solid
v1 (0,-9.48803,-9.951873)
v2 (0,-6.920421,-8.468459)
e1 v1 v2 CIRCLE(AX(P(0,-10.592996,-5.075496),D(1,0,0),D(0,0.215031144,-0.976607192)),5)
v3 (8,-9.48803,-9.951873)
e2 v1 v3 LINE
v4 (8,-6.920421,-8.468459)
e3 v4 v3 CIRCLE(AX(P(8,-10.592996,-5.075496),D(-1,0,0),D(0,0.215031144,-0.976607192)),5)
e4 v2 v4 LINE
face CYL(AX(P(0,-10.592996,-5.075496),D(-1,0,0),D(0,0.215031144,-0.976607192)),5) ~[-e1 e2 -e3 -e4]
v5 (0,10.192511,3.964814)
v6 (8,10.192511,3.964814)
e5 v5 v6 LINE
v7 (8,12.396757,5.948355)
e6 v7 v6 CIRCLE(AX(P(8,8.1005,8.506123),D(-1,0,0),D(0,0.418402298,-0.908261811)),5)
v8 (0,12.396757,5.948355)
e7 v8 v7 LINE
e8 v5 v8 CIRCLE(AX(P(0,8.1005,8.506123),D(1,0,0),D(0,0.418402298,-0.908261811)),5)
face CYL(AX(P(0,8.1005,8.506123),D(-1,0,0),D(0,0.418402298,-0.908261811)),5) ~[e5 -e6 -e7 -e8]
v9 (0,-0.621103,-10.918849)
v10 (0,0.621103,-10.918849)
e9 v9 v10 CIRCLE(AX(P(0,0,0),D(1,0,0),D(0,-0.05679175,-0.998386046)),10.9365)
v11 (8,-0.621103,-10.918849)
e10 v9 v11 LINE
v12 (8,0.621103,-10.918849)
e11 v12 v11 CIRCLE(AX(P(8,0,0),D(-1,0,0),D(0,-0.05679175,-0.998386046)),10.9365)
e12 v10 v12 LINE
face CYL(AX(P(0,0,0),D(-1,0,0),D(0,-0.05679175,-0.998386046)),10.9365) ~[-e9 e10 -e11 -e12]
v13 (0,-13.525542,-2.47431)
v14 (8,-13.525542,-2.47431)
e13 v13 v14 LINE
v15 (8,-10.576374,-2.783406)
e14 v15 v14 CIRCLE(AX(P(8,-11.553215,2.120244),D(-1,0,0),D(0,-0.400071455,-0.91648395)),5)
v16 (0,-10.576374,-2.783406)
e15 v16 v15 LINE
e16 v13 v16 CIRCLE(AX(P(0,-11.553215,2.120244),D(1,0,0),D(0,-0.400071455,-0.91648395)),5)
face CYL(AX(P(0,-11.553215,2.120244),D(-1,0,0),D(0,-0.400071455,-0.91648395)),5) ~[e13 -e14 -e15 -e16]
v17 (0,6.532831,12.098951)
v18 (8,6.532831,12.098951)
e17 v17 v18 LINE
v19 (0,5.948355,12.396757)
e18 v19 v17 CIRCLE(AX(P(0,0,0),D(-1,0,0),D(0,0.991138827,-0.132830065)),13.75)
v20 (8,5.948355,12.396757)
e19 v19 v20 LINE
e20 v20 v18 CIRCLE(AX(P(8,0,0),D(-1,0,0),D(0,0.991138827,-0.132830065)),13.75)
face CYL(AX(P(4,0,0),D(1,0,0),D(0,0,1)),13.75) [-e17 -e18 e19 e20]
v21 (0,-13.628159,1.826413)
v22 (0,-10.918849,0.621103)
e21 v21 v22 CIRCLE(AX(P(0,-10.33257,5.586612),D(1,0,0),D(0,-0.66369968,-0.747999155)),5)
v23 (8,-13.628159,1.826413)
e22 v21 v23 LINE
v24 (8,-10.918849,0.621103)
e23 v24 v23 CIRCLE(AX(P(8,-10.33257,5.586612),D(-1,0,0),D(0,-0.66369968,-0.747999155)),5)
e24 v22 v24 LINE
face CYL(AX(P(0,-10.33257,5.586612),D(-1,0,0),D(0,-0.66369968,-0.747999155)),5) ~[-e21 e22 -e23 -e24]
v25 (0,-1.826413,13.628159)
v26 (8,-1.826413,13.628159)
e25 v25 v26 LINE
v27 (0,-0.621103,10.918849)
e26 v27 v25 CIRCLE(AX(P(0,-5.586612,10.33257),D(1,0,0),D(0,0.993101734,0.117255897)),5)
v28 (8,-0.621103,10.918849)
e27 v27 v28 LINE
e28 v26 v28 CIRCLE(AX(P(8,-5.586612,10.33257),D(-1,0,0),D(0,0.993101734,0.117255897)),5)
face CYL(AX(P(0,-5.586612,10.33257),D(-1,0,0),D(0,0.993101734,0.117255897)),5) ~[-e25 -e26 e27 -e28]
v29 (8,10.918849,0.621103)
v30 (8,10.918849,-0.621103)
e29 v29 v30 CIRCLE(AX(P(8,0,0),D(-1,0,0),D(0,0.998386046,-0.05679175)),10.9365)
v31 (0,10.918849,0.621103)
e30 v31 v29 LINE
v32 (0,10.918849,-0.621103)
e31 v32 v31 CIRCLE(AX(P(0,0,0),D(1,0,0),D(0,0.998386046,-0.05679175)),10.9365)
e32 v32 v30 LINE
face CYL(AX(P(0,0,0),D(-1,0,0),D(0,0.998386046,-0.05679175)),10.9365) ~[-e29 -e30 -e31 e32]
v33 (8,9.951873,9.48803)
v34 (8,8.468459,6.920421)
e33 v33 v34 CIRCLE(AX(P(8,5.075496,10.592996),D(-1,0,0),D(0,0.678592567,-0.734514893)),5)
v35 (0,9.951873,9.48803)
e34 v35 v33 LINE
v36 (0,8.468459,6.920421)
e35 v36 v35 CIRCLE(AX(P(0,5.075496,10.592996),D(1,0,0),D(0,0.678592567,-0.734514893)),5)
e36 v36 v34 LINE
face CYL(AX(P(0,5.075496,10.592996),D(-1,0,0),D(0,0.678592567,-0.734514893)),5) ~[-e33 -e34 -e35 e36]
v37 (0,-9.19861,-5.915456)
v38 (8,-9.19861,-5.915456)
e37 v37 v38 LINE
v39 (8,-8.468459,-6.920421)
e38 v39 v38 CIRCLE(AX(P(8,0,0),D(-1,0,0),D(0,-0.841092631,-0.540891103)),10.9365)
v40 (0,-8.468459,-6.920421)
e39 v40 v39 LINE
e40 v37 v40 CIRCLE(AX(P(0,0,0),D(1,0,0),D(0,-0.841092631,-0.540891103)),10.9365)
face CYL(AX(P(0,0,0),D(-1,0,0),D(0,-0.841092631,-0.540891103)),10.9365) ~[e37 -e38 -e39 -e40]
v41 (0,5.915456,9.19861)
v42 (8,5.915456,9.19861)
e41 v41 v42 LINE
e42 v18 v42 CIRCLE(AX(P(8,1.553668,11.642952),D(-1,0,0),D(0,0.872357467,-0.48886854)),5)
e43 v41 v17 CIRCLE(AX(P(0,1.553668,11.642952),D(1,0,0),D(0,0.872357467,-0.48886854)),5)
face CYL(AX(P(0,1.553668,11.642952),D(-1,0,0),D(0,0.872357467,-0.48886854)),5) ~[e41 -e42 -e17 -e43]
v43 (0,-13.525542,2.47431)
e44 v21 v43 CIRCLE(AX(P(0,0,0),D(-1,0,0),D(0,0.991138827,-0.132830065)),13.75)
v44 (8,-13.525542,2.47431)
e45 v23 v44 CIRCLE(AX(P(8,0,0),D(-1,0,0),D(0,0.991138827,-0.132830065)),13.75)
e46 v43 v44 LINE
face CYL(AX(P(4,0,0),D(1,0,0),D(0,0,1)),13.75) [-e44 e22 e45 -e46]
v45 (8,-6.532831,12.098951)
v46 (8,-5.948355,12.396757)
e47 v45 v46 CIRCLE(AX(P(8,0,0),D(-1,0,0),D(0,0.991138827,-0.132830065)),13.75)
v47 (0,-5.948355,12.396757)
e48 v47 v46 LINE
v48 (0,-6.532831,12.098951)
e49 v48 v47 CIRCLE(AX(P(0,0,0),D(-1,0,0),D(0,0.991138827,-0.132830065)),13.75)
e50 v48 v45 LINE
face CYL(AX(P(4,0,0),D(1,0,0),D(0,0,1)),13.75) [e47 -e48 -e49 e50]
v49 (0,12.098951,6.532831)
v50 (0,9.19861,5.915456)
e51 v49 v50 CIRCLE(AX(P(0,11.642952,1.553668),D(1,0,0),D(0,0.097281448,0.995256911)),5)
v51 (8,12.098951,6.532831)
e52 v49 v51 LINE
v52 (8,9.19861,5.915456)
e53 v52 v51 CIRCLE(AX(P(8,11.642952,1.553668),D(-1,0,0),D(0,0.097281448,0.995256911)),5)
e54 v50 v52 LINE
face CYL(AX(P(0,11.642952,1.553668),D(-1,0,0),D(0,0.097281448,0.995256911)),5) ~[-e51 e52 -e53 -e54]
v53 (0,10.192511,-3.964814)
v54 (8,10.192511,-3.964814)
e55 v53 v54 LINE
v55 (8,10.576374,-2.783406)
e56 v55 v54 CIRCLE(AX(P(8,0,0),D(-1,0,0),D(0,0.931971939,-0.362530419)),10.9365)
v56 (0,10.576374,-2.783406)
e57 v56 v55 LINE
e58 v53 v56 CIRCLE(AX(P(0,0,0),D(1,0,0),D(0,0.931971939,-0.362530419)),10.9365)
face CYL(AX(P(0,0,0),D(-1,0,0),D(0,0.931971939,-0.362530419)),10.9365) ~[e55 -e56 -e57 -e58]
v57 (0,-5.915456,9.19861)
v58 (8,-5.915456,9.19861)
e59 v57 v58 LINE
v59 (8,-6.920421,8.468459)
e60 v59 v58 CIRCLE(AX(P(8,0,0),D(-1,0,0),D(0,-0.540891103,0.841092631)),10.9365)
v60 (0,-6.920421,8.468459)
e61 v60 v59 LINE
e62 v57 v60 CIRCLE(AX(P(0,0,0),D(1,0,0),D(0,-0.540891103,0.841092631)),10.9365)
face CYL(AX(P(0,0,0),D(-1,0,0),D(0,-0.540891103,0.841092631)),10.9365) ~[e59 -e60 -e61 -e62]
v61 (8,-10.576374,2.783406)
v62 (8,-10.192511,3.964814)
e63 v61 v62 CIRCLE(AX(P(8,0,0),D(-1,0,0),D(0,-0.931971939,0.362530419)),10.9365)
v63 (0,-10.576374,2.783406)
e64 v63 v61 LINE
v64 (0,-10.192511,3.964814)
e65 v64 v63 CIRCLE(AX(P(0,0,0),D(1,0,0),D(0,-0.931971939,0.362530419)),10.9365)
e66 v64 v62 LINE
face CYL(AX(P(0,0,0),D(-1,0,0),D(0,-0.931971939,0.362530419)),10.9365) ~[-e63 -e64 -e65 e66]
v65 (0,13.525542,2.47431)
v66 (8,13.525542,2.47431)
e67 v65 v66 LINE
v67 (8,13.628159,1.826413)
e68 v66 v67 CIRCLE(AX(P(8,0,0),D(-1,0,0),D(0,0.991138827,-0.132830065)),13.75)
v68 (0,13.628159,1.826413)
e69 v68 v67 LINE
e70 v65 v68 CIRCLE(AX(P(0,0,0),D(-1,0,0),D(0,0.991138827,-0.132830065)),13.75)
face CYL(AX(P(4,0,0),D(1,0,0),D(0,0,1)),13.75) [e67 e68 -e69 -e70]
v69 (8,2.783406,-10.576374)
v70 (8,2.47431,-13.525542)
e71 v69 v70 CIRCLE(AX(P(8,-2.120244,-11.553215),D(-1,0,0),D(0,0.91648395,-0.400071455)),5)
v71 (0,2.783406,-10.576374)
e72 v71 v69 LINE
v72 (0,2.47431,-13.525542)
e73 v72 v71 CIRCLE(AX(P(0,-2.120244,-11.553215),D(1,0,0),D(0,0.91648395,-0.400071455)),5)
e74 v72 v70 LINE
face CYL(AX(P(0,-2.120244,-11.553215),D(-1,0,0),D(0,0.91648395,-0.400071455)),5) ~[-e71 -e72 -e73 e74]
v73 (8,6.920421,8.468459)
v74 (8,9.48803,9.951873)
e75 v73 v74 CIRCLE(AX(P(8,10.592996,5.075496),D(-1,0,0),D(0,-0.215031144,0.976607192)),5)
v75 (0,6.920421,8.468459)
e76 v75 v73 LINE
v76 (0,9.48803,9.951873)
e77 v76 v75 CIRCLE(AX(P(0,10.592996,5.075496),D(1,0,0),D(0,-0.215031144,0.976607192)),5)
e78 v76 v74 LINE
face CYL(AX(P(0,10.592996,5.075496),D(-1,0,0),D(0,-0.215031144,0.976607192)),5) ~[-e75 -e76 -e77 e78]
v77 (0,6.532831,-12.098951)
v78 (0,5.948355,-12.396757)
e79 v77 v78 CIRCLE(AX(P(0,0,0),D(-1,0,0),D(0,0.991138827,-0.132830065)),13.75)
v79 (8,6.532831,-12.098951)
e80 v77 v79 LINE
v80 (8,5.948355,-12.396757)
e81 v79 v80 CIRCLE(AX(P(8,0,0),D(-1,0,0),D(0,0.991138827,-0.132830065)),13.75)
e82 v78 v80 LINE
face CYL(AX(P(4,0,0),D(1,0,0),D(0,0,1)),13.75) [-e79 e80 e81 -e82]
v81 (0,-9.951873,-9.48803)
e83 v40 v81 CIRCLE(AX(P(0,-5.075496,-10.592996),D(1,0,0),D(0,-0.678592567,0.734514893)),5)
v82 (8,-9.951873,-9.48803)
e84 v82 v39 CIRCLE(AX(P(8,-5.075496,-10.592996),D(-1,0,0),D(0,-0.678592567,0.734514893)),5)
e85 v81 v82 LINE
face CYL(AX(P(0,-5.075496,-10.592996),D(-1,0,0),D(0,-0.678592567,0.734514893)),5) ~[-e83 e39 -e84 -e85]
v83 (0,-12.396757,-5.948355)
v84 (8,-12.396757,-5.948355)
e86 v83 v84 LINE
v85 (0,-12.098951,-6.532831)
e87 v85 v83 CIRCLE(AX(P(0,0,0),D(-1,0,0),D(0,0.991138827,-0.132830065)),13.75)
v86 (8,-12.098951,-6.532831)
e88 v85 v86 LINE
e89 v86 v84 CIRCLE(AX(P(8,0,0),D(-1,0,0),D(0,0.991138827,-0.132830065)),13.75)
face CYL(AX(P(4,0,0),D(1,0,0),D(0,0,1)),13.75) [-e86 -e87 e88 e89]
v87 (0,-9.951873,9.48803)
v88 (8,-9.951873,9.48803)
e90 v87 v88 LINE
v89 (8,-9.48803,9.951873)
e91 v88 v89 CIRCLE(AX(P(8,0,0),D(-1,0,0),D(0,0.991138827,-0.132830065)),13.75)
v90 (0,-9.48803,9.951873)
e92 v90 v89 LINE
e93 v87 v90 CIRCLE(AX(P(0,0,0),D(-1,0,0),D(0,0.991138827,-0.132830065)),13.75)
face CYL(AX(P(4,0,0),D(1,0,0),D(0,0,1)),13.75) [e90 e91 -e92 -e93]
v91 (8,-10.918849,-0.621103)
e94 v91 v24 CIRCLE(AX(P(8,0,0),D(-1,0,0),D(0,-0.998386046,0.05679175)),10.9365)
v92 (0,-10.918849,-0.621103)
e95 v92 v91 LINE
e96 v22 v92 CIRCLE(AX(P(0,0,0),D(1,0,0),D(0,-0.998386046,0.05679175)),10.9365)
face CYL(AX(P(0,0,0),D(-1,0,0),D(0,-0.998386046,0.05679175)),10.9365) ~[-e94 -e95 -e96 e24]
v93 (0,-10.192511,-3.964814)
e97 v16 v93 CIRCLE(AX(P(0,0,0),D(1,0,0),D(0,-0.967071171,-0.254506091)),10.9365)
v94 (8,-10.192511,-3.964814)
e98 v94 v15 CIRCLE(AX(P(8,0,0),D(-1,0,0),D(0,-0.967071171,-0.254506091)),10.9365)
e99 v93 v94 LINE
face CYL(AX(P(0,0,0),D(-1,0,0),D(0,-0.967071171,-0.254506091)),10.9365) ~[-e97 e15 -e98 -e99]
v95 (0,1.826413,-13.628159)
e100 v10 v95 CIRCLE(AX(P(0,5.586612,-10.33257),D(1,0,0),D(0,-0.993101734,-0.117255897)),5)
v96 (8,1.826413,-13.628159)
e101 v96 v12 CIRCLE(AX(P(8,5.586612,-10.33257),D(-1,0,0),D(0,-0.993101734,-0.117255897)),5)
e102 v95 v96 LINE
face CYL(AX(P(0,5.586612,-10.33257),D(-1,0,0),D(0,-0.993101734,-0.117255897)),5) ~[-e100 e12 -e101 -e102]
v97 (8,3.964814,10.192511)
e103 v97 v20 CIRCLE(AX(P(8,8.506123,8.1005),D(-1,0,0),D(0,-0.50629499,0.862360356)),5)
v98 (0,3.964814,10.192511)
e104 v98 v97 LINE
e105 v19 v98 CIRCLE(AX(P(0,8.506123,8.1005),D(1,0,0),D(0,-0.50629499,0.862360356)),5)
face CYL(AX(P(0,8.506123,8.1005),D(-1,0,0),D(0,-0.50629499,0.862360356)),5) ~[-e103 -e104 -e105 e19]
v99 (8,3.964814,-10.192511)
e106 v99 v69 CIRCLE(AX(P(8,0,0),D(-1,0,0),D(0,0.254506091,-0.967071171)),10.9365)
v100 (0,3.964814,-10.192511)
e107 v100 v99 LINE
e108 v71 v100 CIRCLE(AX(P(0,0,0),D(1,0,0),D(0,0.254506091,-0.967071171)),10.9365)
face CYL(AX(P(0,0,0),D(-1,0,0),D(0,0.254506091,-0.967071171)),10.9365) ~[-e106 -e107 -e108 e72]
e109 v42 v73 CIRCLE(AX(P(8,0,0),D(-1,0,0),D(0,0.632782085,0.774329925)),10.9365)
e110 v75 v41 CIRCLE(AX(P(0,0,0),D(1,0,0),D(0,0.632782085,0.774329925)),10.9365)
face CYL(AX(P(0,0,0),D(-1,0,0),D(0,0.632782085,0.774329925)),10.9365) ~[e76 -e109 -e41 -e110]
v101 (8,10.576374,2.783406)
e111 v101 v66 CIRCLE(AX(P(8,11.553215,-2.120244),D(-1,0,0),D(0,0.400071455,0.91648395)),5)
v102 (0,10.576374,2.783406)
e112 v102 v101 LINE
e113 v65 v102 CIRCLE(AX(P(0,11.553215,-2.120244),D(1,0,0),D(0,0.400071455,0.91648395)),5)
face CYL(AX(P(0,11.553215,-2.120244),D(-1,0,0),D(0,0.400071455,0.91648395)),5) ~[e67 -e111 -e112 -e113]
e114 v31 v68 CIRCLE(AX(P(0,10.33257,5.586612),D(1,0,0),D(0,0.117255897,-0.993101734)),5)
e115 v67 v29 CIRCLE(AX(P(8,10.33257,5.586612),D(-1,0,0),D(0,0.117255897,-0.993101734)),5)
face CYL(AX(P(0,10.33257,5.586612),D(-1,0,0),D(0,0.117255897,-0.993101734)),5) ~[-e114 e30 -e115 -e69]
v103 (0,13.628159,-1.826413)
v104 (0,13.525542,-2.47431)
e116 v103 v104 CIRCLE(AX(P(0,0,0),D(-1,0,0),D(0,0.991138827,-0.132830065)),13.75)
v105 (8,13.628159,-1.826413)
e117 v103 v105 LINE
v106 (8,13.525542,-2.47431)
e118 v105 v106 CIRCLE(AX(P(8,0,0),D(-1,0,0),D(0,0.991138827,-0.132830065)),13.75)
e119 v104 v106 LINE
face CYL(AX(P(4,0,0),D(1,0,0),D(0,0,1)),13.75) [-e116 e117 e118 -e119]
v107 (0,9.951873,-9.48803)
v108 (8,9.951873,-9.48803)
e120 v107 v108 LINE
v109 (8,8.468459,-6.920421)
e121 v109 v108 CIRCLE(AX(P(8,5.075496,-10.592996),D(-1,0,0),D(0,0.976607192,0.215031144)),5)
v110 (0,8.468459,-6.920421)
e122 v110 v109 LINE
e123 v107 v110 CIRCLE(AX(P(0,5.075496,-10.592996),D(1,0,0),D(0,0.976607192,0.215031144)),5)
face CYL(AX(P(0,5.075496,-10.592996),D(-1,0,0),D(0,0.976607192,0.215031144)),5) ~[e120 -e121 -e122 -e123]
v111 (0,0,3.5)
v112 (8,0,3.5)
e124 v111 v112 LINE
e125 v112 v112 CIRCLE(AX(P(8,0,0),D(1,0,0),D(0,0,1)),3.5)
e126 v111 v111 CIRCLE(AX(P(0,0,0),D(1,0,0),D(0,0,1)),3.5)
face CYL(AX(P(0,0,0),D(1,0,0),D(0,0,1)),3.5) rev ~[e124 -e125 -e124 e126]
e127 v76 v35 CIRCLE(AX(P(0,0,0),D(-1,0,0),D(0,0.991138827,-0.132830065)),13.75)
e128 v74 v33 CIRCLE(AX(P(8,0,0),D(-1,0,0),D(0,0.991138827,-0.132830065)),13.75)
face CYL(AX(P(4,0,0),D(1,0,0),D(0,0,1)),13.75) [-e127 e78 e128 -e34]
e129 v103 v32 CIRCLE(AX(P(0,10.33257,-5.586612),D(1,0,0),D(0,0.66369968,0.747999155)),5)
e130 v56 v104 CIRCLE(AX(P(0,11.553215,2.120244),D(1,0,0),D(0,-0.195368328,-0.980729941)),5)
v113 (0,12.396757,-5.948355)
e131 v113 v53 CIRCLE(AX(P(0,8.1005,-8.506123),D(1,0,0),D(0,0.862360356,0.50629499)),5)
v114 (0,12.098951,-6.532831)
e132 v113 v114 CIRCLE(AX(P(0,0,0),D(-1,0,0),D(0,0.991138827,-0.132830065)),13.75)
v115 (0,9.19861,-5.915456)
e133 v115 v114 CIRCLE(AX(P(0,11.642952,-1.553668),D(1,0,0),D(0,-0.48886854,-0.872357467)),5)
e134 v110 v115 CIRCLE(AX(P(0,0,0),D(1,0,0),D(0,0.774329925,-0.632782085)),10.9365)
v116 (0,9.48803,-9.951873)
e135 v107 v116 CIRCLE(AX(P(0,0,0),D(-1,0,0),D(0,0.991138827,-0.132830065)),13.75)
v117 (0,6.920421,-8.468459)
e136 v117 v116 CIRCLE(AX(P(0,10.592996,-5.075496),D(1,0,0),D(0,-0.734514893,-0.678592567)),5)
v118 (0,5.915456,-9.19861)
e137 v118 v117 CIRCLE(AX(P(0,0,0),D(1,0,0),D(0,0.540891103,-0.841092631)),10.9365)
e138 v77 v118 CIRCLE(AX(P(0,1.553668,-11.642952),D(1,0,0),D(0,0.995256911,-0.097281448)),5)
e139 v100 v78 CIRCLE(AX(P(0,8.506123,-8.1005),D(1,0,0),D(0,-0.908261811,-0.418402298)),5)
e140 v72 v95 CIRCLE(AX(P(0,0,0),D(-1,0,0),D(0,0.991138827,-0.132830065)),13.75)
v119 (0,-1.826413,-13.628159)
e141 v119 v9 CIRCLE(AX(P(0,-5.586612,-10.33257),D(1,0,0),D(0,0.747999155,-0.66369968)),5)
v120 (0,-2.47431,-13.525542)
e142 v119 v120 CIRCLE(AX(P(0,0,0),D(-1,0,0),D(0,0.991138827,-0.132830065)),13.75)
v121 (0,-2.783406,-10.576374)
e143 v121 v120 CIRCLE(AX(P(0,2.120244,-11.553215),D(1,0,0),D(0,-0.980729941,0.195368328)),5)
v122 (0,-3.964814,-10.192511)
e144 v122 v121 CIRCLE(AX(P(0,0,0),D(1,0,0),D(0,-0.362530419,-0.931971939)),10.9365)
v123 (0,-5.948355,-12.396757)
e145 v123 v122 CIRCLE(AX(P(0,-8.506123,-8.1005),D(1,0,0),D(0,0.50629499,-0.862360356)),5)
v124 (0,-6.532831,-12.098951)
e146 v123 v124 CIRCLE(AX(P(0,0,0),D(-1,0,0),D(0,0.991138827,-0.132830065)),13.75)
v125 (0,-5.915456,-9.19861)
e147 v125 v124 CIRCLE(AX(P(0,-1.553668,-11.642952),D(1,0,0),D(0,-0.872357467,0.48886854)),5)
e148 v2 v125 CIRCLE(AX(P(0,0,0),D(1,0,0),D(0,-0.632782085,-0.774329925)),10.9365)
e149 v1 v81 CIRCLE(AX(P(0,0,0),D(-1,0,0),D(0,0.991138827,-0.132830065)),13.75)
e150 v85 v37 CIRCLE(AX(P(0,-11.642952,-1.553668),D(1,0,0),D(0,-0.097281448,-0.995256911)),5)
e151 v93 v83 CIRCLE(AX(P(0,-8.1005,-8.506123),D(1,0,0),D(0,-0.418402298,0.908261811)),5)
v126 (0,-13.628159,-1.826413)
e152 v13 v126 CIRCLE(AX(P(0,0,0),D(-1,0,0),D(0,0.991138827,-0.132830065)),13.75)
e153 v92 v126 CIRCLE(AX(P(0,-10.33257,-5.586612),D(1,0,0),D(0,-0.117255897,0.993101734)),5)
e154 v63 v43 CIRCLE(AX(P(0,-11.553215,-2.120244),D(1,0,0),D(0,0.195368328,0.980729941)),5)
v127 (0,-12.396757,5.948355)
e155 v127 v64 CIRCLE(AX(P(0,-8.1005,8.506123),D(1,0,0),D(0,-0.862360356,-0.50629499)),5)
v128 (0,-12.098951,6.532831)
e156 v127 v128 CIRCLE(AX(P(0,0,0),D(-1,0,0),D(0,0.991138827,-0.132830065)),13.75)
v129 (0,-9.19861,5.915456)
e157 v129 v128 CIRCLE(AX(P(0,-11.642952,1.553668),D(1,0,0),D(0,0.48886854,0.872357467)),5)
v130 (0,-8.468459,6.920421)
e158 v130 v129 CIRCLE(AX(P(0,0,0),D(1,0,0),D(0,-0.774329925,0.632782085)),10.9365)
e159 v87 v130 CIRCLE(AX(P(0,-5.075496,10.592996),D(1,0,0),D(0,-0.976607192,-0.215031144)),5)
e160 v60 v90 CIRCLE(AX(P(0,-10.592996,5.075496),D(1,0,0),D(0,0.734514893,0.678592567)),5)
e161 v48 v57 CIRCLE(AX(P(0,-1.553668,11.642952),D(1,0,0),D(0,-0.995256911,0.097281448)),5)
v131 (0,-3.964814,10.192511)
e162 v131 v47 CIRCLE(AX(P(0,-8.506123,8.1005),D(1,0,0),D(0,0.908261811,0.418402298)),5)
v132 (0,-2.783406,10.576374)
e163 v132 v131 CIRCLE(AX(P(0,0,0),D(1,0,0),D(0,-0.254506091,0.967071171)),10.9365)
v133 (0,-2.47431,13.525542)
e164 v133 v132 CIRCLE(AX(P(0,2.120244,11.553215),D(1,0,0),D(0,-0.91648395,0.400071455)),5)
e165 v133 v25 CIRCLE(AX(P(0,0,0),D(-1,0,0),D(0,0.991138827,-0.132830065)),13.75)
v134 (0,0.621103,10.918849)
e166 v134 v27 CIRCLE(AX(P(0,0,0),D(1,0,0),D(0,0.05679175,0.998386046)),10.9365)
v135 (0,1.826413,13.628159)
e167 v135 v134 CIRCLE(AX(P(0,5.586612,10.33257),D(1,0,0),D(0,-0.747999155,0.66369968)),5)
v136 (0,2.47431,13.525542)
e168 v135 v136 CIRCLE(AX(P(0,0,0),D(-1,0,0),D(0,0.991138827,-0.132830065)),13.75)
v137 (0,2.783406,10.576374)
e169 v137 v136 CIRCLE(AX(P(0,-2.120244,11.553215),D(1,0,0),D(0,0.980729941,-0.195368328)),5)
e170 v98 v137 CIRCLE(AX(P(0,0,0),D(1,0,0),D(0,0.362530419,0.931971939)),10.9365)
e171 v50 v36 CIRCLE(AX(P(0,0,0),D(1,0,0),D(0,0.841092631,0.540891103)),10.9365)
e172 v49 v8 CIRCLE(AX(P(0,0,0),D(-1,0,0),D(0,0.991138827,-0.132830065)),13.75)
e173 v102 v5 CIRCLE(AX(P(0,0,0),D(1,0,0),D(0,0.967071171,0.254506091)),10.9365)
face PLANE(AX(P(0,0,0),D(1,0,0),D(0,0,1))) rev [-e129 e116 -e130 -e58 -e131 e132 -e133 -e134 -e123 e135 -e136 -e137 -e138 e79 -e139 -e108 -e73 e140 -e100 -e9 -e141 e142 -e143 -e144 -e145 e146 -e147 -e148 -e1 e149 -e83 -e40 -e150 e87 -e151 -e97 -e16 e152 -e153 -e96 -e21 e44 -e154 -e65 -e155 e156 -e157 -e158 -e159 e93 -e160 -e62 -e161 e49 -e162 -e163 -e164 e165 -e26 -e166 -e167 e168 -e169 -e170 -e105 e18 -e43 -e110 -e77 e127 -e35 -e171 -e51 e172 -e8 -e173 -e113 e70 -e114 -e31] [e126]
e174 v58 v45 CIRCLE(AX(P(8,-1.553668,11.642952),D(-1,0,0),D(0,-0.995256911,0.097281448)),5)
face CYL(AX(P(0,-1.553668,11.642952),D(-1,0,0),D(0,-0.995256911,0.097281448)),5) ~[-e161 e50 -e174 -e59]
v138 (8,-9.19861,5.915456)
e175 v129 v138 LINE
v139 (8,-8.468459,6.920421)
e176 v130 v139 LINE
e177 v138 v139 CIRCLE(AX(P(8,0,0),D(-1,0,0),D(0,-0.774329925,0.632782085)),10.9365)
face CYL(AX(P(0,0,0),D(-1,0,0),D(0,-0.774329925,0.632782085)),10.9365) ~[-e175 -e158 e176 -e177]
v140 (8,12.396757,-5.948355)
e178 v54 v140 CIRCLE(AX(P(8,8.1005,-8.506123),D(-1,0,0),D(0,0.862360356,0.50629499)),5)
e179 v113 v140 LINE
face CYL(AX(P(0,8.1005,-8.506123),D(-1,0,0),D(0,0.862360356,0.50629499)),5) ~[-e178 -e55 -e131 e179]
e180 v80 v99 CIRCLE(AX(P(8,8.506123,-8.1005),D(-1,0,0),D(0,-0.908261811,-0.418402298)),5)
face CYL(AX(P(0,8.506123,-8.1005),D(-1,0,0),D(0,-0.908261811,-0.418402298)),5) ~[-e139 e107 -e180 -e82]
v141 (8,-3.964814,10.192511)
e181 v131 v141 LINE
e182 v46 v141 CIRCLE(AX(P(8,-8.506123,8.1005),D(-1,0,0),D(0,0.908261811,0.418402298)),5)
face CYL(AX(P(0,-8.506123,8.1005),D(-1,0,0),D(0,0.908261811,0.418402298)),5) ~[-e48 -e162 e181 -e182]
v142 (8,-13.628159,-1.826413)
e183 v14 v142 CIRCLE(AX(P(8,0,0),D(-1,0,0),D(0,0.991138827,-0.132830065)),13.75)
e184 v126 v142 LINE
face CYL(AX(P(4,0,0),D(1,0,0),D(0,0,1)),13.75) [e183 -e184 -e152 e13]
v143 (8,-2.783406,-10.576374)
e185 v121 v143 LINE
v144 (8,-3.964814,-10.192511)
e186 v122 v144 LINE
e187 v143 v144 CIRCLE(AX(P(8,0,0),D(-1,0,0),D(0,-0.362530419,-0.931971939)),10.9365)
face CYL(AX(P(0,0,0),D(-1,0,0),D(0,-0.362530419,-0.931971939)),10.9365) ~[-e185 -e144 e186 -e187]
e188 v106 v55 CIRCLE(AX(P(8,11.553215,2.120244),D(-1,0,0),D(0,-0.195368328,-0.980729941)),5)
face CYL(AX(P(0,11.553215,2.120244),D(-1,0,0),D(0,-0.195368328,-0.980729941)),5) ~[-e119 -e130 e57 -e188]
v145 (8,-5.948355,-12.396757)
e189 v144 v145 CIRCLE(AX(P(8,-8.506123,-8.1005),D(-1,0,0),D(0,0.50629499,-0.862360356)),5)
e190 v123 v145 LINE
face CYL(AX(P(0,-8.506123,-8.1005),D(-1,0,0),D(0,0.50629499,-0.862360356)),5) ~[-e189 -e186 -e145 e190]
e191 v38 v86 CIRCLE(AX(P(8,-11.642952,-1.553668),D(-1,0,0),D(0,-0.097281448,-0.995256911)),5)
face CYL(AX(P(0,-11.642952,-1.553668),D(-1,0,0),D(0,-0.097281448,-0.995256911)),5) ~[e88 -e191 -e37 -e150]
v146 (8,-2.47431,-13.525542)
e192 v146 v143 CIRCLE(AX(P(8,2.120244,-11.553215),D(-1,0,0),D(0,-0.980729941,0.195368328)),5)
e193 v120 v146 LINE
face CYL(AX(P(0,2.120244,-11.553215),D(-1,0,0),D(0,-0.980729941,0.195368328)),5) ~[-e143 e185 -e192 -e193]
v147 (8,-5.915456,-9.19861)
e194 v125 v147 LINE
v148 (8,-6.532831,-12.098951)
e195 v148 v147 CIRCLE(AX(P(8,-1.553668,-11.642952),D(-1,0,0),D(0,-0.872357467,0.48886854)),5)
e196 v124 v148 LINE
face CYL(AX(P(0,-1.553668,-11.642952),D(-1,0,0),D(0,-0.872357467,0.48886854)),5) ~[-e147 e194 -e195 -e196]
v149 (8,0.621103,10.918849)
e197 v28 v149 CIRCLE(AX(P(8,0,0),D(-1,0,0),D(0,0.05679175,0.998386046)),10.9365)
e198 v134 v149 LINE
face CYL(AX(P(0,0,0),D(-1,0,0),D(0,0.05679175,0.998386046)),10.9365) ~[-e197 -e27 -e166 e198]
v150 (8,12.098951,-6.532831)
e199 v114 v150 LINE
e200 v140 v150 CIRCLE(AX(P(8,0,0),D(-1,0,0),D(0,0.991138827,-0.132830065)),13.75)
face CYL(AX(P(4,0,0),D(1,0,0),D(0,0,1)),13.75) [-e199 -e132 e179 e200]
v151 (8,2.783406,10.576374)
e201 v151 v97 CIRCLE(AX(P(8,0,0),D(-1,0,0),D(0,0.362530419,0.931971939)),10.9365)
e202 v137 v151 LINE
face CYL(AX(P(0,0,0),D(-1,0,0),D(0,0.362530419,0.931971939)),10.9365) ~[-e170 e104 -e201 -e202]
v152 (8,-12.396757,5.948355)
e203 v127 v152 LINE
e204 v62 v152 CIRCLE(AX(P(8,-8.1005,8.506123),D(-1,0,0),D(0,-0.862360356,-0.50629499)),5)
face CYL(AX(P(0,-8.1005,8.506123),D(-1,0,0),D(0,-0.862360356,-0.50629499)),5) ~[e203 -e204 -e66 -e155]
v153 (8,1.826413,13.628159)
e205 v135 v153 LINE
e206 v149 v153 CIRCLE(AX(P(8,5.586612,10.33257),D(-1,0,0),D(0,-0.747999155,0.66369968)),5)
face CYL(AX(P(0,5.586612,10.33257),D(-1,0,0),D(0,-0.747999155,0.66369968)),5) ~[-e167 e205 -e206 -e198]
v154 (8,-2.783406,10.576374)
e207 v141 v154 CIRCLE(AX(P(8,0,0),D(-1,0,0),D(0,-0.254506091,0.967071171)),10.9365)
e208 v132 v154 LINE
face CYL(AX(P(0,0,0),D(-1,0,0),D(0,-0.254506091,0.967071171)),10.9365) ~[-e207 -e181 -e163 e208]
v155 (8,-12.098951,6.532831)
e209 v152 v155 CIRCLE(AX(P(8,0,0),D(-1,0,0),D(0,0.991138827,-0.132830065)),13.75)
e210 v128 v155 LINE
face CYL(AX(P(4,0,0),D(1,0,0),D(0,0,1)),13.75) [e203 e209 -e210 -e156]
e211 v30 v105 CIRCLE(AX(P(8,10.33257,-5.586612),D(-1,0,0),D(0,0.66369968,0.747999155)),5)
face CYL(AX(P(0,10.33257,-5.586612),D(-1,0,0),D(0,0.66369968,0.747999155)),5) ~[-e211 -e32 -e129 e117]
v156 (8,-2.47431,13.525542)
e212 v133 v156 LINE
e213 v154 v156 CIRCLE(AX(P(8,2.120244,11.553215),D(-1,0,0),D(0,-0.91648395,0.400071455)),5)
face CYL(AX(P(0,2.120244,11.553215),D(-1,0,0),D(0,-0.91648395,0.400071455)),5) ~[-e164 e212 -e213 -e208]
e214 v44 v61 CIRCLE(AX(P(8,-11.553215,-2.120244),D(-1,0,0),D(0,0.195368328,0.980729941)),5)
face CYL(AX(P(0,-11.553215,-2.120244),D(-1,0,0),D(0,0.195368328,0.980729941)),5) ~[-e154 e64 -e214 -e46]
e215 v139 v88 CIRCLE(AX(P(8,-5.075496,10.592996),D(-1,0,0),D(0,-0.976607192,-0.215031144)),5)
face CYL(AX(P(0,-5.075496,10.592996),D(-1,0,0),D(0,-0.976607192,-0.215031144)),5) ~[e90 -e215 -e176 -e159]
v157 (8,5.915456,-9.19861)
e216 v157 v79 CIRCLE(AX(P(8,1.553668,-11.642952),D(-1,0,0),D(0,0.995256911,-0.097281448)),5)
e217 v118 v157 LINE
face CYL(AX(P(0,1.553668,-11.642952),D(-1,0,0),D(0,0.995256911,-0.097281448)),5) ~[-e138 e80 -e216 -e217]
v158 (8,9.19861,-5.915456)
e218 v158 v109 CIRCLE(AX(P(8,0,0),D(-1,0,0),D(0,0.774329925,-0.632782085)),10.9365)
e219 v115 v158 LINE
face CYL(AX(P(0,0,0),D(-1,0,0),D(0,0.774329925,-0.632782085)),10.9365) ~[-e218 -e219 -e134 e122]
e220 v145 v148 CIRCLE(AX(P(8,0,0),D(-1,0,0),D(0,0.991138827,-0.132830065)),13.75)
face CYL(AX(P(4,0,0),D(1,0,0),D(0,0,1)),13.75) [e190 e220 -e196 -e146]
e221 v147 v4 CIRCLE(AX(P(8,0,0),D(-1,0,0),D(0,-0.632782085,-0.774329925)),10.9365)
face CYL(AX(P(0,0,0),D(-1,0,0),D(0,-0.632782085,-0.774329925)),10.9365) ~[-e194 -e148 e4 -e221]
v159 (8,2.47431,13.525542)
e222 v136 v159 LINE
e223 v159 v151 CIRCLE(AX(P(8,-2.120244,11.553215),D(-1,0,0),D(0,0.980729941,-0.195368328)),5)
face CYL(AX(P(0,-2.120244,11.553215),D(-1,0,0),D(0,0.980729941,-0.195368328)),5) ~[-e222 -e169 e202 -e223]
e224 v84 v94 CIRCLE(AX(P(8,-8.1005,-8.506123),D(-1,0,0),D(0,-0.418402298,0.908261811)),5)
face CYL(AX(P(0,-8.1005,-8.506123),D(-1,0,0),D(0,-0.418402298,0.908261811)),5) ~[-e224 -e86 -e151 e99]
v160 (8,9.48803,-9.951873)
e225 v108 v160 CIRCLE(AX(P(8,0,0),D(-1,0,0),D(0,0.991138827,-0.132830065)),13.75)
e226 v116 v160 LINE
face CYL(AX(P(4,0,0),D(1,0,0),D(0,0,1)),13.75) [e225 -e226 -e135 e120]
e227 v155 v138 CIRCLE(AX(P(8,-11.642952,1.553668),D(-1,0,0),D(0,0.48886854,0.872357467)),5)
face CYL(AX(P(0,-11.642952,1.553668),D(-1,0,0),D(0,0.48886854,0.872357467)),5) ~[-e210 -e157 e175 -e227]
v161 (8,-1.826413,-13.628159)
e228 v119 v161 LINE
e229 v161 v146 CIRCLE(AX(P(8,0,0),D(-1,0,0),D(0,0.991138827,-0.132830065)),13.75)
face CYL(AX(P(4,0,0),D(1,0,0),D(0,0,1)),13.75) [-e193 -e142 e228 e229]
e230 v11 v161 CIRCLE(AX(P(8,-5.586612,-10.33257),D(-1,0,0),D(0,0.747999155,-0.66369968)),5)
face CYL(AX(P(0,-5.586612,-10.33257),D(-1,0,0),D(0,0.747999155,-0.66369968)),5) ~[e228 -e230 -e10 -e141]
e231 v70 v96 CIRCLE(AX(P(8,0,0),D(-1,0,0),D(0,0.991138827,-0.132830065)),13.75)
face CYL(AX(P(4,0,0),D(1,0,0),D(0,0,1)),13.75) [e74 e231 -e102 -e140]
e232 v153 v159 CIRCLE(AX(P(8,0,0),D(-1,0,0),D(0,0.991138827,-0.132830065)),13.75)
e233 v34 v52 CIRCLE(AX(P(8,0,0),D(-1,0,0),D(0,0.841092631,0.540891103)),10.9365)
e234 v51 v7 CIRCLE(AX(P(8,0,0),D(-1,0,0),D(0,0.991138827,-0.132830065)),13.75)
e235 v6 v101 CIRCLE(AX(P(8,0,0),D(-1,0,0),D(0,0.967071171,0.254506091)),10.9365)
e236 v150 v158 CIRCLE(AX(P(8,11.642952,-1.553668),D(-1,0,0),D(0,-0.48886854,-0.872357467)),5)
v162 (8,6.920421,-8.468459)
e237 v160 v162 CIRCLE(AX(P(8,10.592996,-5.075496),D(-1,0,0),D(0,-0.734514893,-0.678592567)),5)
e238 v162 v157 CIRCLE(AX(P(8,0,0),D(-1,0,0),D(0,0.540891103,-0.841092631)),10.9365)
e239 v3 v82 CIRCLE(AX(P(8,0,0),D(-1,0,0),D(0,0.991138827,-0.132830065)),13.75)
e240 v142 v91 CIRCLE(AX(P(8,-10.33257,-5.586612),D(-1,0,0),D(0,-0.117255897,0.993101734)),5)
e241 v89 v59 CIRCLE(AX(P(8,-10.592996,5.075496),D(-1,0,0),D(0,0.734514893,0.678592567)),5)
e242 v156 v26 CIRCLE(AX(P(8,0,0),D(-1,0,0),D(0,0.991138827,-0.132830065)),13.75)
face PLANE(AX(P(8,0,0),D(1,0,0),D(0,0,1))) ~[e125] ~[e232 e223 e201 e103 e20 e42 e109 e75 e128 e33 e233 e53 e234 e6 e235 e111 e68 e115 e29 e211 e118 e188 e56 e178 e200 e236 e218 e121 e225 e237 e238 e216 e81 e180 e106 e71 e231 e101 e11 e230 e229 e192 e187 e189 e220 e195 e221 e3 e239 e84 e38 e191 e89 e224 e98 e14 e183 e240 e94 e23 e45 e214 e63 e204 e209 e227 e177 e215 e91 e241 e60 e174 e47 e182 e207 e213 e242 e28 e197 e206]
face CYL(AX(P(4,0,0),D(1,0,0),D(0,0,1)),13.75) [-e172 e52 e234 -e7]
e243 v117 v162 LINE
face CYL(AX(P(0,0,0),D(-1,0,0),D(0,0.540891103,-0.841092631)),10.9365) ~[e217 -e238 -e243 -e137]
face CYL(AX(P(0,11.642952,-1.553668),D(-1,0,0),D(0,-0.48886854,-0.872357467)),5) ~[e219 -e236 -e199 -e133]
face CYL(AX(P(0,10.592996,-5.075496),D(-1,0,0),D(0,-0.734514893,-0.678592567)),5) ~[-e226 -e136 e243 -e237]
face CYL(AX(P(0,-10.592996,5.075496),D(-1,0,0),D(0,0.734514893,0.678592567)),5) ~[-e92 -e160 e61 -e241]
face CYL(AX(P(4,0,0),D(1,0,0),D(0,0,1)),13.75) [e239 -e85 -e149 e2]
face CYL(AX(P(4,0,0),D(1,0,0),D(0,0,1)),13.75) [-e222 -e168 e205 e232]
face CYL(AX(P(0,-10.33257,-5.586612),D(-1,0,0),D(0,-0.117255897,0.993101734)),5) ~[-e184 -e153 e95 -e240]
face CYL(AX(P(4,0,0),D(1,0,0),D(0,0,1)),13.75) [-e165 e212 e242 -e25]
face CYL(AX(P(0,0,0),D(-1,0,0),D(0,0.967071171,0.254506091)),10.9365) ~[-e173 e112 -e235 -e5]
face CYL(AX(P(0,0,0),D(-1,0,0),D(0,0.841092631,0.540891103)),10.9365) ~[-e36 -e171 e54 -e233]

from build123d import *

# Parameters (mm, degrees)
BASPROSKE_W     = 8
BASPROSKE_H     = 13.75
TOOTHCUT_DEPTH  = 22.026768653
TEETHCUTS_COUNT = 20
TEETHCUTS_ANGLE = 342
BORSKE_R        = 3.5
BORE_DEPTH      = 50.0000508


with BuildPart() as part:
    # BasProSke → Base-Revolve (revolve)
    with BuildSketch(Plane(origin=(0, 0, 0), x_dir=(1, 0, 0), z_dir=(0, 1, 0)), mode=Mode.PRIVATE) as base_revolve_sk:
        with Locations((4, 6.875)):
            Rectangle(BASPROSKE_W, BASPROSKE_H)
    revolve(base_revolve_sk.sketch.rotate(Axis((-10, 0, 0), (1, 0, 0)), 180), axis=Axis((-10, 0, 0), (1, 0, 0)))

    # TooCutSke → ToothCut (cut, through all)
    with BuildSketch(Plane(origin=(0, 0, 0), x_dir=(0, 0, -1), z_dir=(1, 0, 0))):
        with BuildLine():
            ThreePointArc((0.62110296, 10.918848994), (0, 10.9365), (-0.62110296, 10.918848994))
            ThreePointArc((-0.62110296, 10.918848994), (-1.024517052, 12.378857135), (-1.846615859, 13.651067908))
            ThreePointArc((-1.846615859, 13.651067908), (0, 13.7754), (1.846615859, 13.651067908))
            ThreePointArc((1.846615859, 13.651067908), (1.024517052, 12.378857135), (0.62110296, 10.918848994))
        make_face()
    toothcut = extrude(amount=TOOTHCUT_DEPTH, mode=Mode.SUBTRACT)

    # TeethCuts: ToothCut ×20 about axis
    teethcuts_axis = Axis((-10, 0, 0), (1, 0, 0))
    for i in range(1, TEETHCUTS_COUNT):
        add(toothcut.rotate(teethcuts_axis, i * TEETHCUTS_ANGLE / (TEETHCUTS_COUNT - 1)), mode=Mode.SUBTRACT)

    # BorSke → Bore (cut, symmetric)
    with BuildSketch(Plane(origin=(0, 0, 0), x_dir=(0, 0, -1), z_dir=(1, 0, 0))):
        with Locations(Location((0, 0, 0), (0, 0, 180))):
            Circle(BORSKE_R)
    extrude(amount=BORE_DEPTH, both=True, mode=Mode.SUBTRACT)


solid = part.part
